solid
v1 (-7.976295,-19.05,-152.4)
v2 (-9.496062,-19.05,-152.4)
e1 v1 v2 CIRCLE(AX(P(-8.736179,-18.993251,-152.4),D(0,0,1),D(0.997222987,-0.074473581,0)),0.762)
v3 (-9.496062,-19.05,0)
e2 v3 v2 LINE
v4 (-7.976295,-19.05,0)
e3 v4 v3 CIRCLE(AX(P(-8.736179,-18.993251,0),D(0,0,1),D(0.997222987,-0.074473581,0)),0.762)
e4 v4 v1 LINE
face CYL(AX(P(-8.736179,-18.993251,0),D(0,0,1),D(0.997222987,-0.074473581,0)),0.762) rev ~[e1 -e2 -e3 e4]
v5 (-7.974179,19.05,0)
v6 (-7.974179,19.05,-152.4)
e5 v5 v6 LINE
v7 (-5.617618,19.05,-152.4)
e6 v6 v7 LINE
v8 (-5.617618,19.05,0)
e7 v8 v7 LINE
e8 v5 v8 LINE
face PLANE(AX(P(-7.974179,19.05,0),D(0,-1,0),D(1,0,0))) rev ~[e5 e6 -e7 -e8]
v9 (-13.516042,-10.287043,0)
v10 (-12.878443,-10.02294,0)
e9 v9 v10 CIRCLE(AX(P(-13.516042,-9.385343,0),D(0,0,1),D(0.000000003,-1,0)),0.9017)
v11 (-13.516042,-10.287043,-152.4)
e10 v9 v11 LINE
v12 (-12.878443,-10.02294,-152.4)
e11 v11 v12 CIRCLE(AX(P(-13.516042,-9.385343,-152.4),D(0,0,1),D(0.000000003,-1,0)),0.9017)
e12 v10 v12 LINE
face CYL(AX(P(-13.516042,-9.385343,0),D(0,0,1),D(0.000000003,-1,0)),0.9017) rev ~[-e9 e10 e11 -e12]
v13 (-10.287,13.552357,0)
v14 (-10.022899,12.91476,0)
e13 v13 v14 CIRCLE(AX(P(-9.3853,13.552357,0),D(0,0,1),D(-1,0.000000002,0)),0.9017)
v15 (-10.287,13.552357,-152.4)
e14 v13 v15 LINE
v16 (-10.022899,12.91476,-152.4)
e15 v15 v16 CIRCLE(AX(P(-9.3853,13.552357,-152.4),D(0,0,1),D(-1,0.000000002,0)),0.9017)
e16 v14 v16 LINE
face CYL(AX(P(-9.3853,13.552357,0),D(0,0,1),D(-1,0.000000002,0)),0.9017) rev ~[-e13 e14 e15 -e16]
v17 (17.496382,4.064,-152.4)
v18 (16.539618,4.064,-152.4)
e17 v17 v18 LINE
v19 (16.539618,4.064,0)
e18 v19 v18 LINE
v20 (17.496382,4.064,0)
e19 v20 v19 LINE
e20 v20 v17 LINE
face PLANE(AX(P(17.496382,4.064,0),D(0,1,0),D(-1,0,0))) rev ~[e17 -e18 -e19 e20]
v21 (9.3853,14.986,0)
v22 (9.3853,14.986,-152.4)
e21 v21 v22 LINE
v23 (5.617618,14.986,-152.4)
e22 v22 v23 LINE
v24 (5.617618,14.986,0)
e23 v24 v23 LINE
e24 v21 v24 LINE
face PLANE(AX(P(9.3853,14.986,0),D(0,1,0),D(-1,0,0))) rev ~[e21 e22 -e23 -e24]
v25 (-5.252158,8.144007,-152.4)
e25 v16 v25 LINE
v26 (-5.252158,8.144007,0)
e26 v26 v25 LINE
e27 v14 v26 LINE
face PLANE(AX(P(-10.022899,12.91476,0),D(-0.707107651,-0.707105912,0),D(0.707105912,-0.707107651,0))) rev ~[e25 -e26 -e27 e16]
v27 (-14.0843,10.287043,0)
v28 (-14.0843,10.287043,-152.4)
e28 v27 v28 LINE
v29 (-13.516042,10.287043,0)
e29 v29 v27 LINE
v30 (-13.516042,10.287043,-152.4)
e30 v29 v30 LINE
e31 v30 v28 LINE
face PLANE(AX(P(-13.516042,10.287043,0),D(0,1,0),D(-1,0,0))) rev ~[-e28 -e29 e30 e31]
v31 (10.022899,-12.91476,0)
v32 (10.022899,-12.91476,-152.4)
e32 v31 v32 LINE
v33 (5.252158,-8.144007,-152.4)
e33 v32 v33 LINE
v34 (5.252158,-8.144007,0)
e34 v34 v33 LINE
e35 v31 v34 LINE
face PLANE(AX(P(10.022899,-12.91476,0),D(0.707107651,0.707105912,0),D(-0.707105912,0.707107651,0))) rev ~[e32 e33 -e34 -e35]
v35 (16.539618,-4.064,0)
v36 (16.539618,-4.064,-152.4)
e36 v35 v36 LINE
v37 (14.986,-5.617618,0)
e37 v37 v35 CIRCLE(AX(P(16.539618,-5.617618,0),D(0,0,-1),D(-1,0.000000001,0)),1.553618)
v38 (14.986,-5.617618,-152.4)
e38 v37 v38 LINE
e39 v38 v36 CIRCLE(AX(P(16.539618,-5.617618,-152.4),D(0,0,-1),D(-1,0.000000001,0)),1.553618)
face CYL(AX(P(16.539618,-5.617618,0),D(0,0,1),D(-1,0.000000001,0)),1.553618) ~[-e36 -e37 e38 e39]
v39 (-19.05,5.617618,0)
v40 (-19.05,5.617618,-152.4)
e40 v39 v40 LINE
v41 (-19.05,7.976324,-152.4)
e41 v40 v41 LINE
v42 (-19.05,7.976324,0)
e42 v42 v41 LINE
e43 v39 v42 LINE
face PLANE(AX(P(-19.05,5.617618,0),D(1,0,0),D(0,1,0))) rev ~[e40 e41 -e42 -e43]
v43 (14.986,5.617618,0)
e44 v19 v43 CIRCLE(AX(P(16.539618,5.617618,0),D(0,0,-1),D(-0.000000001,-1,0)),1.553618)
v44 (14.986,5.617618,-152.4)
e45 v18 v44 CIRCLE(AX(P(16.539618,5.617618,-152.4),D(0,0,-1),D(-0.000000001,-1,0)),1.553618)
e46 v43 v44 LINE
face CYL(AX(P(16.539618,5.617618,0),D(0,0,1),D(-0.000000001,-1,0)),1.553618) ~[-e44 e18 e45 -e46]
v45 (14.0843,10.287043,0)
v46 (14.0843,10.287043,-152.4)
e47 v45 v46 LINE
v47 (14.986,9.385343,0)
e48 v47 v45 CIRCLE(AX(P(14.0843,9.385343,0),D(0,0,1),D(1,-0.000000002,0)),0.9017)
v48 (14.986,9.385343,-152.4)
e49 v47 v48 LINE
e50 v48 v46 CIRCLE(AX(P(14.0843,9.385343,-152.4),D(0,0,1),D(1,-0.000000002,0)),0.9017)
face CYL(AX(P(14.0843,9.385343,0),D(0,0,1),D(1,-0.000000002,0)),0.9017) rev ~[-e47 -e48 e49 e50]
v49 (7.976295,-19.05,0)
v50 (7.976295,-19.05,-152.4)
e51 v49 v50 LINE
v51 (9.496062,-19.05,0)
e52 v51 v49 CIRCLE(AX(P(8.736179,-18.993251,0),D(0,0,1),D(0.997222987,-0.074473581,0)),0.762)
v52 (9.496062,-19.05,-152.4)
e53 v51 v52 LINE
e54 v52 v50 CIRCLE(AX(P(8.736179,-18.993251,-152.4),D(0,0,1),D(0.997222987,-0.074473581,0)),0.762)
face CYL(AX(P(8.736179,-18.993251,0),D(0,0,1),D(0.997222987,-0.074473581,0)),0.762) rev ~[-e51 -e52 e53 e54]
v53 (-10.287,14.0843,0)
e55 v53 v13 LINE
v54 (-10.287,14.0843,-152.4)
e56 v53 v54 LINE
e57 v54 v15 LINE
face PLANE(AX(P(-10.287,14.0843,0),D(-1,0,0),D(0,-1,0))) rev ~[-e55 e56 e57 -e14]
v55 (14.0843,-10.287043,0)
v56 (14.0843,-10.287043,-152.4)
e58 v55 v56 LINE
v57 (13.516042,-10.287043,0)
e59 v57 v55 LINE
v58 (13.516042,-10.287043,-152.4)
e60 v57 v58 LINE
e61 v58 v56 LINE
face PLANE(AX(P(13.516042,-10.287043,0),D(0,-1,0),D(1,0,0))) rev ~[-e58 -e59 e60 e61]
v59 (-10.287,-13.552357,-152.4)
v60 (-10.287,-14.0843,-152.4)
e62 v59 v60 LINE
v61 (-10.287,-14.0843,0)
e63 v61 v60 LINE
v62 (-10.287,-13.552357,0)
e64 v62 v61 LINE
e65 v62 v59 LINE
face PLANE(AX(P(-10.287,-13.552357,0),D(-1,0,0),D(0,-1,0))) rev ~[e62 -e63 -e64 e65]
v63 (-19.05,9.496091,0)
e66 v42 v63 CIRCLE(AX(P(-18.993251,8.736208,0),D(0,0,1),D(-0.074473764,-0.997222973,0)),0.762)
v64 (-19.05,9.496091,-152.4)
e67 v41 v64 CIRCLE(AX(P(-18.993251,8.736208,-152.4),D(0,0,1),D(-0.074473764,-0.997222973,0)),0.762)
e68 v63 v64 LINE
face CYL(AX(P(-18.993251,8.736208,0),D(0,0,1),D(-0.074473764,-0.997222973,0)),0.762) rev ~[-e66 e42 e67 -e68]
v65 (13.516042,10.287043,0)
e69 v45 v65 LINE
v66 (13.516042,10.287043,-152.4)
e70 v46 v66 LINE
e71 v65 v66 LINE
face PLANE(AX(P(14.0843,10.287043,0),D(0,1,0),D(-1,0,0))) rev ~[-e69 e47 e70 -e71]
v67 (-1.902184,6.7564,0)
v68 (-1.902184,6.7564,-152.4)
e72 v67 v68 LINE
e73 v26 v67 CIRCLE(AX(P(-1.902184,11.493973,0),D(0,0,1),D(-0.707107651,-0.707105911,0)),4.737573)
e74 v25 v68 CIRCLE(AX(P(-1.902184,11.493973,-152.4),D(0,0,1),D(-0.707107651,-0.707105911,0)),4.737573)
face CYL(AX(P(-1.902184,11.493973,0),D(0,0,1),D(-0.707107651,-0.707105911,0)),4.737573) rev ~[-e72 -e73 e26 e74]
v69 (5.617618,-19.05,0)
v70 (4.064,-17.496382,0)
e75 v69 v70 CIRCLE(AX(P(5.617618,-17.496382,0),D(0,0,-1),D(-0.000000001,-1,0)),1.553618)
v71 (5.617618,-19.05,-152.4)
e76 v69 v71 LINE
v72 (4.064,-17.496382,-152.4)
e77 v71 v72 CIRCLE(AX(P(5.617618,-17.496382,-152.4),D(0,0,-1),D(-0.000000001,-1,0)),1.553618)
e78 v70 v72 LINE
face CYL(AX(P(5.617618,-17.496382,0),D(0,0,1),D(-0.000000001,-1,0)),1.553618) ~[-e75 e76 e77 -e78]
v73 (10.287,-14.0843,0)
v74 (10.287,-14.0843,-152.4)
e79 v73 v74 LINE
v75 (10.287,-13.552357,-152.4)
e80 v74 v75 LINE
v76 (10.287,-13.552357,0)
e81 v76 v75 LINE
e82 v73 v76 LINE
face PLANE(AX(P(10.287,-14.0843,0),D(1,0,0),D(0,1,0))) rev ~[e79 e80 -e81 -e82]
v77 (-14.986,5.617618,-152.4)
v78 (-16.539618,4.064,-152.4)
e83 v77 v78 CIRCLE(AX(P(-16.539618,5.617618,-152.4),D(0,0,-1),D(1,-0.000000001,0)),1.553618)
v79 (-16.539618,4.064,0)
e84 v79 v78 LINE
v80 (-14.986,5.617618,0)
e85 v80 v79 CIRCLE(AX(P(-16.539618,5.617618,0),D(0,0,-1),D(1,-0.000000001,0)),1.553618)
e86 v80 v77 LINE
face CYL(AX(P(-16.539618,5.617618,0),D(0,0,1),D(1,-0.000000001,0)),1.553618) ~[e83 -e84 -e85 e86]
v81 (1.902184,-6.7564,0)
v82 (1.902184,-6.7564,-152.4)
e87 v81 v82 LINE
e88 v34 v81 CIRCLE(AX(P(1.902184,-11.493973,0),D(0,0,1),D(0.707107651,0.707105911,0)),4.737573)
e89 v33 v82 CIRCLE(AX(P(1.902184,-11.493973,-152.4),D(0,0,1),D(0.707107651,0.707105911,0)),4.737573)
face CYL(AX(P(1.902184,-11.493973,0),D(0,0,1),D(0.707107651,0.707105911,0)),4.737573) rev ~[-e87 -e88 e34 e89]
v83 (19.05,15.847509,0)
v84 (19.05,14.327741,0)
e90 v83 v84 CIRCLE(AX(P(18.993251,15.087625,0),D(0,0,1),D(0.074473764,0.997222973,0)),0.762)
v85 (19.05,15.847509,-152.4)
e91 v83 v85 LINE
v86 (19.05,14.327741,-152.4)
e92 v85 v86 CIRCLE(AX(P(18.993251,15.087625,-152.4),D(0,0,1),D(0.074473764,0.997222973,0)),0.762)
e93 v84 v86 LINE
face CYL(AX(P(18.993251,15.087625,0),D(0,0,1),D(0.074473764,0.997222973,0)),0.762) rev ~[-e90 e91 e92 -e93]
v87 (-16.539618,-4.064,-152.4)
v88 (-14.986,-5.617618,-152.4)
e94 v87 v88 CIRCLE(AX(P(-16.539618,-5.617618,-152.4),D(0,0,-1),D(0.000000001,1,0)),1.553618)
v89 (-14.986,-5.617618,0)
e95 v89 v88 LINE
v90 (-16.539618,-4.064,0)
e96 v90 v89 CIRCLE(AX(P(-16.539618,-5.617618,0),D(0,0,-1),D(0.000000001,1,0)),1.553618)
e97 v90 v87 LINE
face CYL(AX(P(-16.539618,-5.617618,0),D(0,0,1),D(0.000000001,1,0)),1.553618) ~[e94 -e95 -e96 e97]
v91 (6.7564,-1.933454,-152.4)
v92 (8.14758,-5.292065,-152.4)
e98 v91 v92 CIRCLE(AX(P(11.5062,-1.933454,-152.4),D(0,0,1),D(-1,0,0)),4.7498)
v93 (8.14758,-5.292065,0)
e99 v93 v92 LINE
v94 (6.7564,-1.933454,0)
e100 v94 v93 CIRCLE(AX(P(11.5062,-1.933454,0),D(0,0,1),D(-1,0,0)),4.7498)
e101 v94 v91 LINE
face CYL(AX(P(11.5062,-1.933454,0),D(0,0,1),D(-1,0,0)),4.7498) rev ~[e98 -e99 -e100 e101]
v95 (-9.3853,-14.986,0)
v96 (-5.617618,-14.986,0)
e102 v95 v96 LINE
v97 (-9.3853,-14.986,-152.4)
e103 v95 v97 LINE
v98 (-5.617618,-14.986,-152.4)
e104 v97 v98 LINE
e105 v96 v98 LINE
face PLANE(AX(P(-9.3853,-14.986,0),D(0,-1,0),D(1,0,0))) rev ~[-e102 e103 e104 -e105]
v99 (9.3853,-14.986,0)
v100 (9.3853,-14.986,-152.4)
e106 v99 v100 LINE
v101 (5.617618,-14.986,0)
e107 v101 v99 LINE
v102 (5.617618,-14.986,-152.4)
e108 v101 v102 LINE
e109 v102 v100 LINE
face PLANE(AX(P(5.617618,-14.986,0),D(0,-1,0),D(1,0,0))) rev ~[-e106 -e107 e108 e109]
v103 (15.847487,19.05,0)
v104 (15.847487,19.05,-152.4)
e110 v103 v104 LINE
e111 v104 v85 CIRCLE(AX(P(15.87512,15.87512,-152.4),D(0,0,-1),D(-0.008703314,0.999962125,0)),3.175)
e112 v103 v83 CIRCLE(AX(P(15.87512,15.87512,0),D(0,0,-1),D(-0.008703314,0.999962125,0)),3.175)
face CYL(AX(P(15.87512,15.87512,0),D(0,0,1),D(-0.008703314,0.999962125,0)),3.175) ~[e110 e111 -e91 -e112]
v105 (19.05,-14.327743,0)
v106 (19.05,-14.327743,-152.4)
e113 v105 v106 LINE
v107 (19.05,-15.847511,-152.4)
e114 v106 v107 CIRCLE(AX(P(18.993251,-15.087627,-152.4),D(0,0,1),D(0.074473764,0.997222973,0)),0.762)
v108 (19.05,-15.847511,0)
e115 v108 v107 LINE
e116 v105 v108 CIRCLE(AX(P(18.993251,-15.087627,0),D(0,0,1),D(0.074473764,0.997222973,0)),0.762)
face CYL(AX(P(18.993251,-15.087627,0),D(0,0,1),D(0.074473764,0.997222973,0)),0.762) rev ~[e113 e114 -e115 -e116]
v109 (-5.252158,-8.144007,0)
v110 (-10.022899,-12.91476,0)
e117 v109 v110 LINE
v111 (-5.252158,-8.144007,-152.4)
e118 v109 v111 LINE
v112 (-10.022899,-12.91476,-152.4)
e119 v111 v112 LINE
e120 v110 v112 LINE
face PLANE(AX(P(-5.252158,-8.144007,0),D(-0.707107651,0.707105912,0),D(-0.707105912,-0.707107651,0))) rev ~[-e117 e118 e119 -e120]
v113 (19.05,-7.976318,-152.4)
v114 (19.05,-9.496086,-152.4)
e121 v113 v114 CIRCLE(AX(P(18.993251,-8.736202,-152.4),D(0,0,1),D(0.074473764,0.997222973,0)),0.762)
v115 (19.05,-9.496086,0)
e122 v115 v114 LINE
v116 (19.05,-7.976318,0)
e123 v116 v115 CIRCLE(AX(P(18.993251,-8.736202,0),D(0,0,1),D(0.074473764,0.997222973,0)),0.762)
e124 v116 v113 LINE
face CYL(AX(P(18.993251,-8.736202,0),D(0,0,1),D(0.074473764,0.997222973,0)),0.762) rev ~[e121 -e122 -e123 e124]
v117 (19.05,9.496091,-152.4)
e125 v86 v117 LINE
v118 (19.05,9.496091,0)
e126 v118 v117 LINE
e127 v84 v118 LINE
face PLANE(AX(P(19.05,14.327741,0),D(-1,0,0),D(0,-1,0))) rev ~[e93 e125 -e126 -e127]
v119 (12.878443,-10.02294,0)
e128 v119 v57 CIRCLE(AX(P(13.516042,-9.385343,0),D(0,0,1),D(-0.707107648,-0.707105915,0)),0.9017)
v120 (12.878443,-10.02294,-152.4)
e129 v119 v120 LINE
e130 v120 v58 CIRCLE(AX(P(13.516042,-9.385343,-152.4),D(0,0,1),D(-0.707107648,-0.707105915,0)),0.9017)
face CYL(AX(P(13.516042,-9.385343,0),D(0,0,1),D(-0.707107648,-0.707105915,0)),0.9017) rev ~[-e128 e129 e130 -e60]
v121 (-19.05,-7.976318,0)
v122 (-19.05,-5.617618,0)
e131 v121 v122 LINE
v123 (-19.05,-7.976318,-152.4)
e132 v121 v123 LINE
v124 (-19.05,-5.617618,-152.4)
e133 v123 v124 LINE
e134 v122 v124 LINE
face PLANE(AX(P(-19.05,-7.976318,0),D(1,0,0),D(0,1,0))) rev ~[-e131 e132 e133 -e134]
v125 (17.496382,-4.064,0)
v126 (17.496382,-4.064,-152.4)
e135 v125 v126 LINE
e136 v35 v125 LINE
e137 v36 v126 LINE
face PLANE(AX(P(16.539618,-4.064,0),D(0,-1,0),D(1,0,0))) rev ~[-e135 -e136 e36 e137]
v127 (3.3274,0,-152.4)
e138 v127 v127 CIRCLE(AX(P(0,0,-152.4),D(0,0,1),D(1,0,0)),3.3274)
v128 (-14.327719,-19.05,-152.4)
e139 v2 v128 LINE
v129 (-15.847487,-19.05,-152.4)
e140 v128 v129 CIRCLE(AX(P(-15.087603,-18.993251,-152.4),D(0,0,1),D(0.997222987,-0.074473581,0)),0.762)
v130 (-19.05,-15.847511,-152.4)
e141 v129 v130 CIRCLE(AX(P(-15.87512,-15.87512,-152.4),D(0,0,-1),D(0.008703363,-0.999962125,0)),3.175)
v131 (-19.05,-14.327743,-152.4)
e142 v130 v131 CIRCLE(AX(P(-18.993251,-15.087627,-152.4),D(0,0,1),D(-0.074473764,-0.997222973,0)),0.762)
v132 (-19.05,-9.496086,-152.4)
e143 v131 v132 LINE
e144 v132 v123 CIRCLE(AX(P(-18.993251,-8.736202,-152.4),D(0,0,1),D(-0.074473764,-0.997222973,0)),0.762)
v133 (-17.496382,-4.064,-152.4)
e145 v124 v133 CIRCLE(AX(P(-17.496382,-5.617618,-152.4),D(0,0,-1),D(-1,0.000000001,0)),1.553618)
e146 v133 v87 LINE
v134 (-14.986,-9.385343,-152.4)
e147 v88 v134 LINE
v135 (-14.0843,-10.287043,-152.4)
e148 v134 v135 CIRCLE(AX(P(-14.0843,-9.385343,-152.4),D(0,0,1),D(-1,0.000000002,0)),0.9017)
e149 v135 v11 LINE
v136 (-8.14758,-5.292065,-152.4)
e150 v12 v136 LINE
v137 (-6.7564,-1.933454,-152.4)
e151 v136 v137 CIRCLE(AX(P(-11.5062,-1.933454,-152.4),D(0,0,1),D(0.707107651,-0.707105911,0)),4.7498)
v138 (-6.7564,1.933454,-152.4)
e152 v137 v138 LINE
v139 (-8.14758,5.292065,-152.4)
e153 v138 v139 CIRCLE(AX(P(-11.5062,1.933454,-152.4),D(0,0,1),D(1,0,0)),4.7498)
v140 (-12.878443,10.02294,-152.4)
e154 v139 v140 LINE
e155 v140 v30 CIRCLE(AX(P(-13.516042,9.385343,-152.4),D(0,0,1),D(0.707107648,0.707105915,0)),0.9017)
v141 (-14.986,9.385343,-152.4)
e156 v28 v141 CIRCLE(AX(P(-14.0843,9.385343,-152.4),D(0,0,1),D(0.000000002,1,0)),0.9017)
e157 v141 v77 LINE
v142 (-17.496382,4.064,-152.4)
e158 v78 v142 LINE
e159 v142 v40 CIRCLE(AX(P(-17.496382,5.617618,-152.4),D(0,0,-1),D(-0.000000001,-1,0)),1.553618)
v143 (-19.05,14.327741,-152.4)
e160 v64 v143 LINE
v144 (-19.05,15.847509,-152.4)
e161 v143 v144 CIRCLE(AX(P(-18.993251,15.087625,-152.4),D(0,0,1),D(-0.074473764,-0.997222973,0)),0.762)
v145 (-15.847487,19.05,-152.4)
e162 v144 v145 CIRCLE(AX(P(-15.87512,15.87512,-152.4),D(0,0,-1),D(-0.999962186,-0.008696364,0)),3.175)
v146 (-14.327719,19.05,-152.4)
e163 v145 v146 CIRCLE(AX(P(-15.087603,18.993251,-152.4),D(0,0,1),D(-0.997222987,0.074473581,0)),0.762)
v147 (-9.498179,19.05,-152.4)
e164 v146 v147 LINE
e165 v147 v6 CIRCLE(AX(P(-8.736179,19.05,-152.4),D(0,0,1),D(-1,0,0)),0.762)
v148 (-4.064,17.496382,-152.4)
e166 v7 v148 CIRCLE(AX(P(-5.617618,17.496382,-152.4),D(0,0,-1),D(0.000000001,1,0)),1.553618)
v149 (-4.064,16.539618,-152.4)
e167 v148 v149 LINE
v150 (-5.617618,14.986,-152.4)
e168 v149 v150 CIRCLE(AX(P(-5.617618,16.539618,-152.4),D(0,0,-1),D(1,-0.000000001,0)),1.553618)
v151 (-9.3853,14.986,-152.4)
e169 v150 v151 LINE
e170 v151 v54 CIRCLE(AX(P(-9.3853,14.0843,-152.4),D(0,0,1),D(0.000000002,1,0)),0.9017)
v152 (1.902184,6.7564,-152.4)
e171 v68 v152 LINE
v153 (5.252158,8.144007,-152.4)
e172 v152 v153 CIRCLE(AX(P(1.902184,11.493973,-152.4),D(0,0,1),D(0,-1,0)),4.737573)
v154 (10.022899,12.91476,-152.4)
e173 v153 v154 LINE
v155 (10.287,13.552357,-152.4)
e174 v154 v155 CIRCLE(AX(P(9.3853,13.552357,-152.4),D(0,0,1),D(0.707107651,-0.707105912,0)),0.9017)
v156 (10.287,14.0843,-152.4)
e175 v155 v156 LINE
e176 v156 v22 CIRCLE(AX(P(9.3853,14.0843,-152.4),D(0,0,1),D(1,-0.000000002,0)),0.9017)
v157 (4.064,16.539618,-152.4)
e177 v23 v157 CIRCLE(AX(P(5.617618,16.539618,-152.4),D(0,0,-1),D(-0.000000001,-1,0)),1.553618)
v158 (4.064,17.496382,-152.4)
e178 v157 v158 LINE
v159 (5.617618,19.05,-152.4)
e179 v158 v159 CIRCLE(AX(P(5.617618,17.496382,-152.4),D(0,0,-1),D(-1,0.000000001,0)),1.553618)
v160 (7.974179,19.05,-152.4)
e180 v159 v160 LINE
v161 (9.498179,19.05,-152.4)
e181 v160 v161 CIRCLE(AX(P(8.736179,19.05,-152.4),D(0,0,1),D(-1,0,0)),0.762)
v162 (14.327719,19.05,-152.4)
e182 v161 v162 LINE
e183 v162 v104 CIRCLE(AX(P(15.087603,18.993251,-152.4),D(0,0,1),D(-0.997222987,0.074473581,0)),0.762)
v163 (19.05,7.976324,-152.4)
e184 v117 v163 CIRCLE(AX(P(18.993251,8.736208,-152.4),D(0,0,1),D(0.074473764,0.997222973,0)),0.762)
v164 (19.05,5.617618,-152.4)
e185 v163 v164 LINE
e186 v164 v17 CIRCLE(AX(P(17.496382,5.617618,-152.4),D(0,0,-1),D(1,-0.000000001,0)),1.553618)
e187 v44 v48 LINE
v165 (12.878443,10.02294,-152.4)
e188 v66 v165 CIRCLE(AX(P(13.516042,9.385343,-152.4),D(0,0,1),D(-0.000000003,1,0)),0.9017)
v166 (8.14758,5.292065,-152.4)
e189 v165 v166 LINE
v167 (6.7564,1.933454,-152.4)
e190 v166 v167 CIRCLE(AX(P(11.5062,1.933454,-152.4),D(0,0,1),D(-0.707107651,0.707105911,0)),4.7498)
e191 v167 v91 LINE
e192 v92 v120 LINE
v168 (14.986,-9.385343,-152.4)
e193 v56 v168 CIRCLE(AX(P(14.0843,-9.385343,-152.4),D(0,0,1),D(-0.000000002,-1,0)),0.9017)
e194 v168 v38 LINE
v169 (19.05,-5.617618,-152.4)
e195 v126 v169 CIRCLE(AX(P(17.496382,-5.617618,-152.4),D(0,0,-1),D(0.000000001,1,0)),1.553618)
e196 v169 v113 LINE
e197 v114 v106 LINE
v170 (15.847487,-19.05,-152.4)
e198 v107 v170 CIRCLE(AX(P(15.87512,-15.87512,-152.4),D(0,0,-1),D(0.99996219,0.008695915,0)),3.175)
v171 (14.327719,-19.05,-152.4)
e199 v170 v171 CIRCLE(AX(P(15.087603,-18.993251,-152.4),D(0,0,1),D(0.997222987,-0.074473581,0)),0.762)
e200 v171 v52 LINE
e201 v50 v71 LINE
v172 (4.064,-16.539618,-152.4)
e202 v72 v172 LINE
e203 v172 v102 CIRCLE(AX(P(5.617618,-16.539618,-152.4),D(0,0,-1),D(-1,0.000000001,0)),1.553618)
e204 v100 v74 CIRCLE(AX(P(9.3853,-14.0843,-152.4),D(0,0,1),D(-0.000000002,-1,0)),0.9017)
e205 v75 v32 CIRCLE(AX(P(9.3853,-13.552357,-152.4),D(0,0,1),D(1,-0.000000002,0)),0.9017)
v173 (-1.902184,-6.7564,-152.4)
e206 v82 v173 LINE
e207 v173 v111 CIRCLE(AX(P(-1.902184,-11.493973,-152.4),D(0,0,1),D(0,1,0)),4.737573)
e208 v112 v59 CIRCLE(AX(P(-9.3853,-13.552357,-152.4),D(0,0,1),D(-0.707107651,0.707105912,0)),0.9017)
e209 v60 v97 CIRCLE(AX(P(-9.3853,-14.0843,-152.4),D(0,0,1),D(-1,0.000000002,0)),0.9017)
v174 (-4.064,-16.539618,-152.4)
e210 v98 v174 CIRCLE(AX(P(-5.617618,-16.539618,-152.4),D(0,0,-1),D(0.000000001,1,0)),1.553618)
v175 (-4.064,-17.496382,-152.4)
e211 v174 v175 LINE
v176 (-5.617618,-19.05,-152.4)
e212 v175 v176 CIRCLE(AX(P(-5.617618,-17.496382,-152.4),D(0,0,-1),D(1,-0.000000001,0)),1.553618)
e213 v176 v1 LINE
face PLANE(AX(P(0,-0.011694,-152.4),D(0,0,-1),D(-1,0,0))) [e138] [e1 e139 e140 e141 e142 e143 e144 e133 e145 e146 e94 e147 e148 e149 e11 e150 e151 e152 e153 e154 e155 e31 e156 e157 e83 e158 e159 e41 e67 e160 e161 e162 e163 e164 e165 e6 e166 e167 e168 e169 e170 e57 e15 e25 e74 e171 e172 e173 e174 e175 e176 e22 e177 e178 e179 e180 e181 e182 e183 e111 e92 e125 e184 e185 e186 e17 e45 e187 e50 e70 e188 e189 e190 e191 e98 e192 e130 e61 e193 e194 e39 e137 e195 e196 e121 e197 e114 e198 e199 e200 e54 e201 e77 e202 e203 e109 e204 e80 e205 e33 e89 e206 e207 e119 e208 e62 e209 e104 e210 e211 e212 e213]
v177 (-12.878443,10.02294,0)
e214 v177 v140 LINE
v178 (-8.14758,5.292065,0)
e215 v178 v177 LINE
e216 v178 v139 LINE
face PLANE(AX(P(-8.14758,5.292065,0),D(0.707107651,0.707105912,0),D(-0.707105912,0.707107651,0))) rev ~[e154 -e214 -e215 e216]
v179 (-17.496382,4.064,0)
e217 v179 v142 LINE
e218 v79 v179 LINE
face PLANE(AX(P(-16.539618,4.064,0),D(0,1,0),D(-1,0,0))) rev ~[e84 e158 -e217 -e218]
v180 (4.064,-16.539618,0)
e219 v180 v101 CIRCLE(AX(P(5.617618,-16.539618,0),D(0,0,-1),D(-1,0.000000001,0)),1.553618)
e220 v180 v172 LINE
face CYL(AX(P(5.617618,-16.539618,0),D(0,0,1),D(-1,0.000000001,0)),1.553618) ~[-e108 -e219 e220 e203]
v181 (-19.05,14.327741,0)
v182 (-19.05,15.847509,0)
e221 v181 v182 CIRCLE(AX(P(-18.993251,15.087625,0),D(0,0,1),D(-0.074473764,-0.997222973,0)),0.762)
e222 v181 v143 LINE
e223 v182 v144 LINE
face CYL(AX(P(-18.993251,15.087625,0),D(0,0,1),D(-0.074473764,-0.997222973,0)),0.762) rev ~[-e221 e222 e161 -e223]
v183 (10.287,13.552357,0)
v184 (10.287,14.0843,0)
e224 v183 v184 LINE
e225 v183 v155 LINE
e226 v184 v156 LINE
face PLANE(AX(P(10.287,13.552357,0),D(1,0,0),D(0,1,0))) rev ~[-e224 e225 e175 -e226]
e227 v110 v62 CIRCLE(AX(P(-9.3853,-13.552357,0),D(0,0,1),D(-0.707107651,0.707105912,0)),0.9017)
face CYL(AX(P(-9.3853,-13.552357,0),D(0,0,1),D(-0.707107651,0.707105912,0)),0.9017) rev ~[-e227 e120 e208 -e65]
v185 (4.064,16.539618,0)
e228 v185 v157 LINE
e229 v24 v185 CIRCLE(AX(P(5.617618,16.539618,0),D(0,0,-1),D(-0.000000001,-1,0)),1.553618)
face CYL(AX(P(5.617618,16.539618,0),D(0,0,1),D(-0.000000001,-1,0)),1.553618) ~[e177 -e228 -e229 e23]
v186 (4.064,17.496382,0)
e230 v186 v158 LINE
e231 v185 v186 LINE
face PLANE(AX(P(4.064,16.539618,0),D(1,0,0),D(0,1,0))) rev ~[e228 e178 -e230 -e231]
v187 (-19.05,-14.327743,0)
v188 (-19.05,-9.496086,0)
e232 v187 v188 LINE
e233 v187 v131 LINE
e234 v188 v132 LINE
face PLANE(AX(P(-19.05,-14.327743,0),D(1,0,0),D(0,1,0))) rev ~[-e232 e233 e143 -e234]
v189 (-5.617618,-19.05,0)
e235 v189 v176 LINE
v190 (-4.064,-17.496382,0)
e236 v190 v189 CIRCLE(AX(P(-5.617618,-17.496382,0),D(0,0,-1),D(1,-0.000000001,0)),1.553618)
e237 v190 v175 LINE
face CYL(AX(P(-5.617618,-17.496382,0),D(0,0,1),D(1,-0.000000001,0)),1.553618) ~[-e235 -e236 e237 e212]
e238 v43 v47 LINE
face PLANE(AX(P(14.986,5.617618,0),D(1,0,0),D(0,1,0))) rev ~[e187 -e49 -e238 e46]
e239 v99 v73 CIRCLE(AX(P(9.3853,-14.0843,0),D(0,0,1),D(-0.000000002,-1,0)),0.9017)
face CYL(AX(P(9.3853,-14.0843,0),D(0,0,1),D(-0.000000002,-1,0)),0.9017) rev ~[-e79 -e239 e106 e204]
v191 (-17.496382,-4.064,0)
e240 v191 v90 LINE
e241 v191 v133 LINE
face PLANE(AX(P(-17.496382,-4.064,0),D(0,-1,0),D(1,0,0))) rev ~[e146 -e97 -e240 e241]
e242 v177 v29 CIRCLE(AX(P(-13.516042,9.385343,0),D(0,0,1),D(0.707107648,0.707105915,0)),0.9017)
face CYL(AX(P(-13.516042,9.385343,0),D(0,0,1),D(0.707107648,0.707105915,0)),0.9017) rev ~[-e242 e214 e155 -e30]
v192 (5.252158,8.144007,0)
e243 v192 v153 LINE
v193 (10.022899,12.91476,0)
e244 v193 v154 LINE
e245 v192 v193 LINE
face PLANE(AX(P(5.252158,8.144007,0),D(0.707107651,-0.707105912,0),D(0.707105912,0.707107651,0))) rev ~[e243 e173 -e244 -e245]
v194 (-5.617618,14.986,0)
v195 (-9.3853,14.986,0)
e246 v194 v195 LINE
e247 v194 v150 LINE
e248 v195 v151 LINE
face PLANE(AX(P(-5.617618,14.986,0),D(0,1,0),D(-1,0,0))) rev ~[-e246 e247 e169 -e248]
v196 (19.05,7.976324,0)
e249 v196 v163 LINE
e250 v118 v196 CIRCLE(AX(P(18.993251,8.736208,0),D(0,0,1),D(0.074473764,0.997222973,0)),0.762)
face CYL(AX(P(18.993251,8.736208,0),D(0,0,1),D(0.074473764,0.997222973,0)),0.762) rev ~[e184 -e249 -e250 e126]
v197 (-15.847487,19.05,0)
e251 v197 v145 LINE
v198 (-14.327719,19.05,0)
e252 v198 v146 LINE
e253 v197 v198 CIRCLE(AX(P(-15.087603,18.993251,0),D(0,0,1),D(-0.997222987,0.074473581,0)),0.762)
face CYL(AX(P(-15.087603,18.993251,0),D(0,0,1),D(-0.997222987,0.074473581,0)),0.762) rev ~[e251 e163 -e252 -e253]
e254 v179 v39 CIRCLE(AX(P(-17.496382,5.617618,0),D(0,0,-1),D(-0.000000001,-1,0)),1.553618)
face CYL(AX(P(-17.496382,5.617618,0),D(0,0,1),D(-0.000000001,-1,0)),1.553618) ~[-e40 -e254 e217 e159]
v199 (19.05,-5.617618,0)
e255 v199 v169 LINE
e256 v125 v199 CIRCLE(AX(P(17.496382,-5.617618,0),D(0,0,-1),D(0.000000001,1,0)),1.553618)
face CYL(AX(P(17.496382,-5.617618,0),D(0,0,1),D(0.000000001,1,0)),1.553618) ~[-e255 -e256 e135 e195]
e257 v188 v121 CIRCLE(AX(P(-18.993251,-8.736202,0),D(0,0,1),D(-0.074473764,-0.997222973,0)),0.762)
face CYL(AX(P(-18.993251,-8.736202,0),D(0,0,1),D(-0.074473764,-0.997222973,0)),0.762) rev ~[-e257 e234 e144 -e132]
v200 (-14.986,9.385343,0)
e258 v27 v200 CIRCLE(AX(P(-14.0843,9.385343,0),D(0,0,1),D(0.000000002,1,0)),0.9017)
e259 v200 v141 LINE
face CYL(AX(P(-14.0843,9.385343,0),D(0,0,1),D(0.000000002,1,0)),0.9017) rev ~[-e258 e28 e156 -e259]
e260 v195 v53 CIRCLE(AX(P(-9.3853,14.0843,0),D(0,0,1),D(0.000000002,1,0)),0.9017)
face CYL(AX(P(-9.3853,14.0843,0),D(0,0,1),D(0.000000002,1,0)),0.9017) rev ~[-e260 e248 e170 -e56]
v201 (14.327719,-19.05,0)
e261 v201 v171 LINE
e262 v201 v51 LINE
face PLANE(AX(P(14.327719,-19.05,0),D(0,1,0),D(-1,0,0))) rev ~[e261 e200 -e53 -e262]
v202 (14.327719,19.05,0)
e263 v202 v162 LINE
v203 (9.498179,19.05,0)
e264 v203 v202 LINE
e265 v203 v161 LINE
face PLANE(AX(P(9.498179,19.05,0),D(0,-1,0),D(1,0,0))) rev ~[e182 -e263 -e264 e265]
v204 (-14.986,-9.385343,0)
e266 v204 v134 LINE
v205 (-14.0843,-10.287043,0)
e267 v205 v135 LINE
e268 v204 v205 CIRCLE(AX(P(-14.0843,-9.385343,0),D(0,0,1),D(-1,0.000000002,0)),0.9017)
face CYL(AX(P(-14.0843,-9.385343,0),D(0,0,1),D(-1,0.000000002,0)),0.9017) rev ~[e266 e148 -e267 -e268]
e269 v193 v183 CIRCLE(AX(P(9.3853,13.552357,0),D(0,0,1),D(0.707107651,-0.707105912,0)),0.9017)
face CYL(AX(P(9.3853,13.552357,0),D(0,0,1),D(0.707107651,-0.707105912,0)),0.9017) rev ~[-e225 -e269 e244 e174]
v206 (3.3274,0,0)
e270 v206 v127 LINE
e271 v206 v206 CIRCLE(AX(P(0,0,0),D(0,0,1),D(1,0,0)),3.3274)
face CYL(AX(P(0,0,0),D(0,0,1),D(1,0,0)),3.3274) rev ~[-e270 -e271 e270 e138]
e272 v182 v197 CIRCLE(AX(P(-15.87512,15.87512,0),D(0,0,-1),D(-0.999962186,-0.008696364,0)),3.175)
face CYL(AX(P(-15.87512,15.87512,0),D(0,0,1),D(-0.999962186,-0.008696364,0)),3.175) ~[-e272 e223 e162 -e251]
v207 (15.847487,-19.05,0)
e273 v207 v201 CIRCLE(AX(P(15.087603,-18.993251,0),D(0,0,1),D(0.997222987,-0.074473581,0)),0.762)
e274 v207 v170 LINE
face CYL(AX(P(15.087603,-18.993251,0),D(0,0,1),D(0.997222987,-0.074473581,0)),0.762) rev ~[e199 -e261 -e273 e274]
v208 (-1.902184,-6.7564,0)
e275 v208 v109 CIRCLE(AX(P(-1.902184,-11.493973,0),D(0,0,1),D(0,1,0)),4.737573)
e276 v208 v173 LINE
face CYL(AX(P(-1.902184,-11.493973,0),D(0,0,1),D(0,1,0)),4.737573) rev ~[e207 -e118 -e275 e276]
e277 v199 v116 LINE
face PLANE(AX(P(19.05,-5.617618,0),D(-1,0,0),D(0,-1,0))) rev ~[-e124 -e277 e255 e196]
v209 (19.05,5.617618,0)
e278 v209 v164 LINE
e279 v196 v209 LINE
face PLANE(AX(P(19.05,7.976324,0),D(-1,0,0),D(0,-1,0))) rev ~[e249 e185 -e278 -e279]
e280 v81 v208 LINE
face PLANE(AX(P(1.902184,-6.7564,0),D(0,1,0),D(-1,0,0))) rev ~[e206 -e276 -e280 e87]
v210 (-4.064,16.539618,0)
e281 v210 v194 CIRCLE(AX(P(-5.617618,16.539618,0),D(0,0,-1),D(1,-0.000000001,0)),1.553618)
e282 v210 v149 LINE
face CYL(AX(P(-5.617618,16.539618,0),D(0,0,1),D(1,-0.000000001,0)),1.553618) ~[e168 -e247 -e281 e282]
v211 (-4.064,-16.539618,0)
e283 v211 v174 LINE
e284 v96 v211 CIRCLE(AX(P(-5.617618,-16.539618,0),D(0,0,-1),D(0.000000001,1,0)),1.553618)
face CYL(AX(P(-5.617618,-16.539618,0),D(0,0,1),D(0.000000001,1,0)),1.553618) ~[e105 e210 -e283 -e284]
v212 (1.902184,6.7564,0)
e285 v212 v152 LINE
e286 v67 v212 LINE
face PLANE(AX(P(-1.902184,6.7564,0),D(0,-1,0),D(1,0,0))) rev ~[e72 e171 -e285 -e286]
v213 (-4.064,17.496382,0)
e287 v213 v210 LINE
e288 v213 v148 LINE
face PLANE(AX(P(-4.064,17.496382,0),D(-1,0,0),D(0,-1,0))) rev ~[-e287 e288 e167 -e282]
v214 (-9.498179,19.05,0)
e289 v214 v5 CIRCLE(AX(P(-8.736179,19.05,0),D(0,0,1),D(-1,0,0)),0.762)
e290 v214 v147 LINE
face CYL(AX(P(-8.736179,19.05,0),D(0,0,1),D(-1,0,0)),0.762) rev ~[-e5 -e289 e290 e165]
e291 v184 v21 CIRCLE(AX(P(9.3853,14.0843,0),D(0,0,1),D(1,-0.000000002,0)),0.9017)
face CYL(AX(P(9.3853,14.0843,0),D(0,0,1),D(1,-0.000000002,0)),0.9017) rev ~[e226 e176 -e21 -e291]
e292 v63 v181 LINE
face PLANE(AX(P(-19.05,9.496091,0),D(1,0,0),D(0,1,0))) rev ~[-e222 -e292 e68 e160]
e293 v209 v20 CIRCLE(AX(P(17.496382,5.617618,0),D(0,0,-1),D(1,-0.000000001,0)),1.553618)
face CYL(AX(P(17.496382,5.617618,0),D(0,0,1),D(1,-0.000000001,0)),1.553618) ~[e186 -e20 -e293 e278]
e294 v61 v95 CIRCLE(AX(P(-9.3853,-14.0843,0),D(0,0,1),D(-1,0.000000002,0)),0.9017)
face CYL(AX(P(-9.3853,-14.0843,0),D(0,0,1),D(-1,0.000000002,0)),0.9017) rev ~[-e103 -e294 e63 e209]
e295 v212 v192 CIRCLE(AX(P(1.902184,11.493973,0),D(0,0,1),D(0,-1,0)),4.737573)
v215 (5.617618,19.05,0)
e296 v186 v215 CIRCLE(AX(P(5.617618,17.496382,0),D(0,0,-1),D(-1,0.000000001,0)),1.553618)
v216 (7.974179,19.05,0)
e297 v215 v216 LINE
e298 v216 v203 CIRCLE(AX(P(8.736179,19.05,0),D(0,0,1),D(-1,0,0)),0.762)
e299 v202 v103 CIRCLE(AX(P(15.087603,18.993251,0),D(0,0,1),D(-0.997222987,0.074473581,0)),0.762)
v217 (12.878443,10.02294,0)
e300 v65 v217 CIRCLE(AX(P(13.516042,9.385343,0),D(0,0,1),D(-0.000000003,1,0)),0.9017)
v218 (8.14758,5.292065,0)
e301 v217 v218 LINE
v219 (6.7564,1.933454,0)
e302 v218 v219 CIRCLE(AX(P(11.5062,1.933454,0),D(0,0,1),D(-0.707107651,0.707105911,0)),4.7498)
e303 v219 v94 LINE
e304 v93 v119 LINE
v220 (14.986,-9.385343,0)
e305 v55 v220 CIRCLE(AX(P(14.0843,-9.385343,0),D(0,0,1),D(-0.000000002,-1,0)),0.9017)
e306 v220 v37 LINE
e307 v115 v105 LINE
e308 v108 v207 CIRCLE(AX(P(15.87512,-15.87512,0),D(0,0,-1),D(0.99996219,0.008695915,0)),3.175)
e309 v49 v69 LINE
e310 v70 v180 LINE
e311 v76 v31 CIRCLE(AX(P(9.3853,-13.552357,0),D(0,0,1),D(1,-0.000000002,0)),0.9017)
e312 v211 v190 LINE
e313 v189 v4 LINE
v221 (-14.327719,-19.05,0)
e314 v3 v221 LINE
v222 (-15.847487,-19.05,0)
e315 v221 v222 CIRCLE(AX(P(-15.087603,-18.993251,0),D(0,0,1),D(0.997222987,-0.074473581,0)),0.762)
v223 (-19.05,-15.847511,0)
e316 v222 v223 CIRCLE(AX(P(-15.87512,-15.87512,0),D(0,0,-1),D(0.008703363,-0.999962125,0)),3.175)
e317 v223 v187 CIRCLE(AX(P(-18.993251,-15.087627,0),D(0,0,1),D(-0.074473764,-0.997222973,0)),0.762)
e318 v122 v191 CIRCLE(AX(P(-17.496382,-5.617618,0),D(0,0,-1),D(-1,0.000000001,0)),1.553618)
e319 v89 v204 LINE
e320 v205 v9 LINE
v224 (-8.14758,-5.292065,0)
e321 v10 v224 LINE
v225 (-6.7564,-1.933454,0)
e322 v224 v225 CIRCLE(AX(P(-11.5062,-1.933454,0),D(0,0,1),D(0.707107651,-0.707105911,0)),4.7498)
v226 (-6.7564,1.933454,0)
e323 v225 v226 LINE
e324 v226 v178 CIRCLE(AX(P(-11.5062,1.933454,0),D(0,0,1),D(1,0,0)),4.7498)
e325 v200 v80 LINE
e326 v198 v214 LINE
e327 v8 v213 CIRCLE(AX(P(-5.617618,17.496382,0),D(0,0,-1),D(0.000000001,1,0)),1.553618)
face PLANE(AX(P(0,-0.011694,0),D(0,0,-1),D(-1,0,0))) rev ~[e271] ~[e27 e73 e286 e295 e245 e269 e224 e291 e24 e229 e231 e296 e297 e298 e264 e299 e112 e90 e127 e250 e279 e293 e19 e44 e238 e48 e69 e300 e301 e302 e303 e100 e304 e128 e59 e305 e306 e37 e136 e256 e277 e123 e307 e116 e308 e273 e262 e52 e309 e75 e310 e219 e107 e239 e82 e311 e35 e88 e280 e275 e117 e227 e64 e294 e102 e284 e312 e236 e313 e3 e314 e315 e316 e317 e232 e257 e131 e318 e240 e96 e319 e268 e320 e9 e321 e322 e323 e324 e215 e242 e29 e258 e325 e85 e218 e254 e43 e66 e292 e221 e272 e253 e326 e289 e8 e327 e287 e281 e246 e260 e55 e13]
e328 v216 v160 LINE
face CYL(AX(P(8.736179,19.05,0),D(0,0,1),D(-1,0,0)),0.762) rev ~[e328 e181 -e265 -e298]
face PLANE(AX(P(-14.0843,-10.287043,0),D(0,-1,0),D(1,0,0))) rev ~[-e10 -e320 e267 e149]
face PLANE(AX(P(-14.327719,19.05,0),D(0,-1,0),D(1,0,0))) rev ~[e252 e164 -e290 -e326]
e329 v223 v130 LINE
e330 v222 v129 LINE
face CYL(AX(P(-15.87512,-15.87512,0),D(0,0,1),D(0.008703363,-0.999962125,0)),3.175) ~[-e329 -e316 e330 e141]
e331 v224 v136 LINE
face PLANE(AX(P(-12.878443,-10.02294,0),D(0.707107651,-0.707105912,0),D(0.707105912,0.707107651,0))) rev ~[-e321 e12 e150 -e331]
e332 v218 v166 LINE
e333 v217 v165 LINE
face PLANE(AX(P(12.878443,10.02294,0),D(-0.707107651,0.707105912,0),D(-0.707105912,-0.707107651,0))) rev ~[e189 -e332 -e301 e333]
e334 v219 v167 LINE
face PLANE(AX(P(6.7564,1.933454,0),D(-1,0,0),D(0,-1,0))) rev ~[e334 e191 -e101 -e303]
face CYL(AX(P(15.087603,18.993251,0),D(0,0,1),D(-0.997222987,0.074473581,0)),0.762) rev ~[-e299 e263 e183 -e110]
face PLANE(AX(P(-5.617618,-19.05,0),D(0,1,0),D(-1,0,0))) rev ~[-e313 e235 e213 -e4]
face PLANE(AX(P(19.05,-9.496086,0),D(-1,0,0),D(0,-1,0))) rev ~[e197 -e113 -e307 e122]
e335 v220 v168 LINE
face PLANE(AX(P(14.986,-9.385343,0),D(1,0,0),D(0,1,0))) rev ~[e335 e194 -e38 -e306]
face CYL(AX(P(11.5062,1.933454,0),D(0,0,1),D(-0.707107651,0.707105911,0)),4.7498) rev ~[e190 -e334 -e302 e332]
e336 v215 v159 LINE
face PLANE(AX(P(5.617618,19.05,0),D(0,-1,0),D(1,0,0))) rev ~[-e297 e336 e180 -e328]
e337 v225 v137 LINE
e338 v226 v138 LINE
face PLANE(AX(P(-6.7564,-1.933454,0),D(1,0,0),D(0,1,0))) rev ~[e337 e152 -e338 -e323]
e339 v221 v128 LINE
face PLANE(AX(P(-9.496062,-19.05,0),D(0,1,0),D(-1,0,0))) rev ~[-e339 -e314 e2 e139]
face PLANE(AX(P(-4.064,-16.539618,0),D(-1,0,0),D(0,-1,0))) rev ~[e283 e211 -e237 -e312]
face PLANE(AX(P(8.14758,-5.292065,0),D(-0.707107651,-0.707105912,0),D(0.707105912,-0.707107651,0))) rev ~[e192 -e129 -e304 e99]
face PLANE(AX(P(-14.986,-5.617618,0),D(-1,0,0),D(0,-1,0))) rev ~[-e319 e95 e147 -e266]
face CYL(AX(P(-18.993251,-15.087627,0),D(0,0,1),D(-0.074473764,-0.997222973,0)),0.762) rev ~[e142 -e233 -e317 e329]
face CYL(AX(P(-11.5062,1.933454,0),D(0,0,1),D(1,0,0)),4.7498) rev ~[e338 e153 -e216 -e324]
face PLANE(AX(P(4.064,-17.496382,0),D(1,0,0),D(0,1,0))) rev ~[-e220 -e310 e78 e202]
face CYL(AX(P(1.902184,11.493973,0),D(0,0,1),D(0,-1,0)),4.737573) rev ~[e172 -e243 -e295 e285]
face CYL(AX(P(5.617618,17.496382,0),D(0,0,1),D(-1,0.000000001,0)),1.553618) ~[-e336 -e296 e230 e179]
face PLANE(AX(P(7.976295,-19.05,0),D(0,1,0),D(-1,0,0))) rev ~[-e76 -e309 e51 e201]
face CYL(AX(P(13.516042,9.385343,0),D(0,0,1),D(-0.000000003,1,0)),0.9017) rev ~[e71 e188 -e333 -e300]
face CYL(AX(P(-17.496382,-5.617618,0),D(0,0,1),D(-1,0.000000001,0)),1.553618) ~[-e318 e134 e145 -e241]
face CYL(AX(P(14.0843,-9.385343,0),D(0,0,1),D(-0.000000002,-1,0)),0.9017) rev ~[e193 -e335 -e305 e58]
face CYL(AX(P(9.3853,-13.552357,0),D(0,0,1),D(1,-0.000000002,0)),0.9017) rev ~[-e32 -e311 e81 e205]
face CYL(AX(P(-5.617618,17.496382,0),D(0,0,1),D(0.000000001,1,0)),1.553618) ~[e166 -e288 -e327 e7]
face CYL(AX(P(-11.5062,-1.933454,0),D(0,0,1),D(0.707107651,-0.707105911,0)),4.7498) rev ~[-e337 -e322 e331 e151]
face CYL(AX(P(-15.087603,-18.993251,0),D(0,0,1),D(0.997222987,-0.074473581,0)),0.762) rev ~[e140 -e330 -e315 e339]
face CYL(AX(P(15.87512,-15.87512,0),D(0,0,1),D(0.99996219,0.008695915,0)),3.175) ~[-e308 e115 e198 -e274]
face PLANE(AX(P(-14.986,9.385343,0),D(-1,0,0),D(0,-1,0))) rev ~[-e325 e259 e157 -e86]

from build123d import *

# Parameters (mm, degrees)
SKETCH1_R      = 3.3274
EXTRUDE1_DEPTH = 152.4


with BuildPart() as part:
    # Sketch1 → Extrude1 (new body)
    with BuildSketch(Plane.XY):
        with BuildLine():
            Line((-10.022898969, 12.91475973), (-5.252158105, 8.144007132))
            ThreePointArc((-5.252158105, 8.144007132), (-3.715177372, 7.117027388), (-1.902183975, 6.7564))
            Line((-1.902183975, 6.7564), (1.902183975, 6.7564))
            ThreePointArc((1.902183975, 6.7564), (3.715177372, 7.117027388), (5.252158105, 8.144007132))
            Line((5.252158105, 8.144007132), (10.022898969, 12.91475973))
            ThreePointArc((10.022898969, 12.91475973), (10.218362387, 13.207291992), (10.287, 13.552357131))
            Line((10.287, 13.552357131), (10.287, 14.0843))
            ThreePointArc((10.287, 14.0843), (10.022898185, 14.721898185), (9.3853, 14.986))
            Line((9.3853, 14.986), (5.617617549, 14.986))
            ThreePointArc((5.617617549, 14.986), (4.519044045, 15.441044045), (4.064, 16.539617549))
            Line((4.064, 16.539617549), (4.064, 17.496382451))
            ThreePointArc((4.064, 17.496382451), (4.519044045, 18.594955955), (5.617617549, 19.05))
            Line((5.617617549, 19.05), (7.974178704, 19.05))
            ThreePointArc((7.974178704, 19.05), (8.736178704, 18.288), (9.498178704, 19.05))
            Line((9.498178704, 19.05), (14.327719207, 19.05))
            ThreePointArc((14.327719207, 19.05), (15.087603123, 18.231251131), (15.847487039, 19.05))
            ThreePointArc((15.847487039, 19.05), (18.120176289, 18.120192083), (19.05, 15.847509295))
            ThreePointArc((19.05, 15.847509295), (18.231250992, 15.08762539), (19.05, 14.327741484))
            Line((19.05, 14.327741484), (19.05, 9.496091471))
            ThreePointArc((19.05, 9.496091471), (18.231250992, 8.736207565), (19.05, 7.97632366))
            Line((19.05, 7.97632366), (19.05, 5.617617549))
            ThreePointArc((19.05, 5.617617549), (18.594955955, 4.519044045), (17.496382451, 4.064))
            Line((17.496382451, 4.064), (16.539617549, 4.064))
            ThreePointArc((16.539617549, 4.064), (15.441044045, 4.519044045), (14.986, 5.617617549))
            Line((14.986, 5.617617549), (14.986, 9.385342516))
            ThreePointArc((14.986, 9.385342516), (14.721898185, 10.022940701), (14.0843, 10.287042516))
            Line((14.0843, 10.287042516), (13.516042086, 10.287042516))
            ThreePointArc((13.516042086, 10.287042516), (13.170975923, 10.218404478), (12.878443117, 10.022939917))
            Line((12.878443117, 10.022939917), (8.14758008, 5.292065243))
            ThreePointArc((8.14758008, 5.292065243), (7.117955879, 3.751120653), (6.7564, 1.933453584))
            Line((6.7564, 1.933453584), (6.7564, -1.933453584))
            ThreePointArc((6.7564, -1.933453584), (7.117955879, -3.751120653), (8.14758008, -5.292065243))
            Line((8.14758008, -5.292065243), (12.878443117, -10.022939917))
            ThreePointArc((12.878443117, -10.022939917), (13.170975923, -10.218404478), (13.516042086, -10.287042516))
            Line((13.516042086, -10.287042516), (14.0843, -10.287042516))
            ThreePointArc((14.0843, -10.287042516), (14.721898185, -10.022940701), (14.986, -9.385342516))
            Line((14.986, -9.385342516), (14.986, -5.617617549))
            ThreePointArc((14.986, -5.617617549), (15.441044045, -4.519044045), (16.539617549, -4.064))
            Line((16.539617549, -4.064), (17.496382451, -4.064))
            ThreePointArc((17.496382451, -4.064), (18.594955955, -4.519044045), (19.05, -5.617617549))
            Line((19.05, -5.617617549), (19.05, -7.976318491))
            ThreePointArc((19.05, -7.976318491), (18.231250992, -8.736202396), (19.05, -9.496086302))
            Line((19.05, -9.496086302), (19.05, -14.32774291))
            ThreePointArc((19.05, -14.32774291), (18.231250992, -15.087626816), (19.05, -15.847510721))
            ThreePointArc((19.05, -15.847510721), (18.120175716, -18.120192644), (15.847486868, -19.05))
            ThreePointArc((15.847486868, -19.05), (15.087602952, -18.231251131), (14.327719036, -19.05))
            Line((14.327719036, -19.05), (9.496062448, -19.05))
            ThreePointArc((9.496062448, -19.05), (8.736178532, -18.231251131), (7.976294616, -19.05))
            Line((7.976294616, -19.05), (5.617617549, -19.05))
            ThreePointArc((5.617617549, -19.05), (4.519044045, -18.594955955), (4.064, -17.496382451))
            Line((4.064, -17.496382451), (4.064, -16.539617549))
            ThreePointArc((4.064, -16.539617549), (4.519044045, -15.441044045), (5.617617549, -14.986))
            Line((5.617617549, -14.986), (9.3853, -14.986))
            ThreePointArc((9.3853, -14.986), (10.022898185, -14.721898185), (10.287, -14.0843))
            Line((10.287, -14.0843), (10.287, -13.552357131))
            ThreePointArc((10.287, -13.552357131), (10.218362387, -13.207291992), (10.022898969, -12.91475973))
            Line((10.022898969, -12.91475973), (5.252158105, -8.144007132))
            ThreePointArc((5.252158105, -8.144007132), (3.715177372, -7.117027388), (1.902183975, -6.7564))
            Line((1.902183975, -6.7564), (-1.902183975, -6.7564))
            ThreePointArc((-1.902183975, -6.7564), (-3.715177372, -7.117027388), (-5.252158105, -8.144007132))
            Line((-5.252158105, -8.144007132), (-10.022898969, -12.91475973))
            ThreePointArc((-10.022898969, -12.91475973), (-10.218362387, -13.207291992), (-10.287, -13.552357131))
            Line((-10.287, -13.552357131), (-10.287, -14.0843))
            ThreePointArc((-10.287, -14.0843), (-10.022898185, -14.721898185), (-9.3853, -14.986))
            Line((-9.3853, -14.986), (-5.617617549, -14.986))
            ThreePointArc((-5.617617549, -14.986), (-4.519044045, -15.441044045), (-4.064, -16.539617549))
            Line((-4.064, -16.539617549), (-4.064, -17.496382451))
            ThreePointArc((-4.064, -17.496382451), (-4.519044045, -18.594955955), (-5.617617549, -19.05))
            Line((-5.617617549, -19.05), (-7.976294616, -19.05))
            ThreePointArc((-7.976294616, -19.05), (-8.736178532, -18.231251131), (-9.496062448, -19.05))
            Line((-9.496062448, -19.05), (-14.327719036, -19.05))
            ThreePointArc((-14.327719036, -19.05), (-15.087602952, -18.231251131), (-15.847486868, -19.05))
            ThreePointArc((-15.847486868, -19.05), (-18.120175716, -18.120192644), (-19.05, -15.847510721))
            ThreePointArc((-19.05, -15.847510721), (-18.231250992, -15.087626816), (-19.05, -14.32774291))
            Line((-19.05, -14.32774291), (-19.05, -9.496086302))
            ThreePointArc((-19.05, -9.496086302), (-18.231250992, -8.736202396), (-19.05, -7.976318491))
            Line((-19.05, -7.976318491), (-19.05, -5.617617549))
            ThreePointArc((-19.05, -5.617617549), (-18.594955955, -4.519044045), (-17.496382451, -4.064))
            Line((-17.496382451, -4.064), (-16.539617549, -4.064))
            ThreePointArc((-16.539617549, -4.064), (-15.441044045, -4.519044045), (-14.986, -5.617617549))
            Line((-14.986, -5.617617549), (-14.986, -9.385342516))
            ThreePointArc((-14.986, -9.385342516), (-14.721898185, -10.022940701), (-14.0843, -10.287042516))
            Line((-14.0843, -10.287042516), (-13.516042086, -10.287042516))
            ThreePointArc((-13.516042086, -10.287042516), (-13.170975923, -10.218404478), (-12.878443117, -10.022939917))
            Line((-12.878443117, -10.022939917), (-8.14758008, -5.292065243))
            ThreePointArc((-8.14758008, -5.292065243), (-7.117955879, -3.751120653), (-6.7564, -1.933453584))
            Line((-6.7564, -1.933453584), (-6.7564, 1.933453584))
            ThreePointArc((-6.7564, 1.933453584), (-7.117955879, 3.751120653), (-8.14758008, 5.292065243))
            Line((-8.14758008, 5.292065243), (-12.878443117, 10.022939917))
            ThreePointArc((-12.878443117, 10.022939917), (-13.170975923, 10.218404478), (-13.516042086, 10.287042516))
            Line((-13.516042086, 10.287042516), (-14.0843, 10.287042516))
            ThreePointArc((-14.0843, 10.287042516), (-14.721898185, 10.022940701), (-14.986, 9.385342516))
            Line((-14.986, 9.385342516), (-14.986, 5.617617549))
            ThreePointArc((-14.986, 5.617617549), (-15.441044045, 4.519044045), (-16.539617549, 4.064))
            Line((-16.539617549, 4.064), (-17.496382451, 4.064))
            ThreePointArc((-17.496382451, 4.064), (-18.594955955, 4.519044045), (-19.05, 5.617617549))
            Line((-19.05, 5.617617549), (-19.05, 7.97632366))
            ThreePointArc((-19.05, 7.97632366), (-18.231250992, 8.736207565), (-19.05, 9.496091471))
            Line((-19.05, 9.496091471), (-19.05, 14.327741484))
            ThreePointArc((-19.05, 14.327741484), (-18.231250992, 15.08762539), (-19.05, 15.847509295))
            ThreePointArc((-19.05, 15.847509295), (-18.120176289, 18.120192083), (-15.847487039, 19.05))
            ThreePointArc((-15.847487039, 19.05), (-15.087603123, 18.231251131), (-14.327719207, 19.05))
            Line((-14.327719207, 19.05), (-9.498178704, 19.05))
            ThreePointArc((-9.498178704, 19.05), (-8.736178704, 18.288), (-7.974178704, 19.05))
            Line((-7.974178704, 19.05), (-5.617617549, 19.05))
            ThreePointArc((-5.617617549, 19.05), (-4.519044045, 18.594955955), (-4.064, 17.496382451))
            Line((-4.064, 17.496382451), (-4.064, 16.539617549))
            ThreePointArc((-4.064, 16.539617549), (-4.519044045, 15.441044045), (-5.617617549, 14.986))
            Line((-5.617617549, 14.986), (-9.3853, 14.986))
            ThreePointArc((-9.3853, 14.986), (-10.022898185, 14.721898185), (-10.287, 14.0843))
            Line((-10.287, 14.0843), (-10.287, 13.552357131))
            ThreePointArc((-10.287, 13.552357131), (-10.218362387, 13.207291992), (-10.022898969, 12.91475973))
        make_face()
        Circle(SKETCH1_R, mode=Mode.SUBTRACT)
    extrude(amount=-EXTRUDE1_DEPTH)


solid = part.part
